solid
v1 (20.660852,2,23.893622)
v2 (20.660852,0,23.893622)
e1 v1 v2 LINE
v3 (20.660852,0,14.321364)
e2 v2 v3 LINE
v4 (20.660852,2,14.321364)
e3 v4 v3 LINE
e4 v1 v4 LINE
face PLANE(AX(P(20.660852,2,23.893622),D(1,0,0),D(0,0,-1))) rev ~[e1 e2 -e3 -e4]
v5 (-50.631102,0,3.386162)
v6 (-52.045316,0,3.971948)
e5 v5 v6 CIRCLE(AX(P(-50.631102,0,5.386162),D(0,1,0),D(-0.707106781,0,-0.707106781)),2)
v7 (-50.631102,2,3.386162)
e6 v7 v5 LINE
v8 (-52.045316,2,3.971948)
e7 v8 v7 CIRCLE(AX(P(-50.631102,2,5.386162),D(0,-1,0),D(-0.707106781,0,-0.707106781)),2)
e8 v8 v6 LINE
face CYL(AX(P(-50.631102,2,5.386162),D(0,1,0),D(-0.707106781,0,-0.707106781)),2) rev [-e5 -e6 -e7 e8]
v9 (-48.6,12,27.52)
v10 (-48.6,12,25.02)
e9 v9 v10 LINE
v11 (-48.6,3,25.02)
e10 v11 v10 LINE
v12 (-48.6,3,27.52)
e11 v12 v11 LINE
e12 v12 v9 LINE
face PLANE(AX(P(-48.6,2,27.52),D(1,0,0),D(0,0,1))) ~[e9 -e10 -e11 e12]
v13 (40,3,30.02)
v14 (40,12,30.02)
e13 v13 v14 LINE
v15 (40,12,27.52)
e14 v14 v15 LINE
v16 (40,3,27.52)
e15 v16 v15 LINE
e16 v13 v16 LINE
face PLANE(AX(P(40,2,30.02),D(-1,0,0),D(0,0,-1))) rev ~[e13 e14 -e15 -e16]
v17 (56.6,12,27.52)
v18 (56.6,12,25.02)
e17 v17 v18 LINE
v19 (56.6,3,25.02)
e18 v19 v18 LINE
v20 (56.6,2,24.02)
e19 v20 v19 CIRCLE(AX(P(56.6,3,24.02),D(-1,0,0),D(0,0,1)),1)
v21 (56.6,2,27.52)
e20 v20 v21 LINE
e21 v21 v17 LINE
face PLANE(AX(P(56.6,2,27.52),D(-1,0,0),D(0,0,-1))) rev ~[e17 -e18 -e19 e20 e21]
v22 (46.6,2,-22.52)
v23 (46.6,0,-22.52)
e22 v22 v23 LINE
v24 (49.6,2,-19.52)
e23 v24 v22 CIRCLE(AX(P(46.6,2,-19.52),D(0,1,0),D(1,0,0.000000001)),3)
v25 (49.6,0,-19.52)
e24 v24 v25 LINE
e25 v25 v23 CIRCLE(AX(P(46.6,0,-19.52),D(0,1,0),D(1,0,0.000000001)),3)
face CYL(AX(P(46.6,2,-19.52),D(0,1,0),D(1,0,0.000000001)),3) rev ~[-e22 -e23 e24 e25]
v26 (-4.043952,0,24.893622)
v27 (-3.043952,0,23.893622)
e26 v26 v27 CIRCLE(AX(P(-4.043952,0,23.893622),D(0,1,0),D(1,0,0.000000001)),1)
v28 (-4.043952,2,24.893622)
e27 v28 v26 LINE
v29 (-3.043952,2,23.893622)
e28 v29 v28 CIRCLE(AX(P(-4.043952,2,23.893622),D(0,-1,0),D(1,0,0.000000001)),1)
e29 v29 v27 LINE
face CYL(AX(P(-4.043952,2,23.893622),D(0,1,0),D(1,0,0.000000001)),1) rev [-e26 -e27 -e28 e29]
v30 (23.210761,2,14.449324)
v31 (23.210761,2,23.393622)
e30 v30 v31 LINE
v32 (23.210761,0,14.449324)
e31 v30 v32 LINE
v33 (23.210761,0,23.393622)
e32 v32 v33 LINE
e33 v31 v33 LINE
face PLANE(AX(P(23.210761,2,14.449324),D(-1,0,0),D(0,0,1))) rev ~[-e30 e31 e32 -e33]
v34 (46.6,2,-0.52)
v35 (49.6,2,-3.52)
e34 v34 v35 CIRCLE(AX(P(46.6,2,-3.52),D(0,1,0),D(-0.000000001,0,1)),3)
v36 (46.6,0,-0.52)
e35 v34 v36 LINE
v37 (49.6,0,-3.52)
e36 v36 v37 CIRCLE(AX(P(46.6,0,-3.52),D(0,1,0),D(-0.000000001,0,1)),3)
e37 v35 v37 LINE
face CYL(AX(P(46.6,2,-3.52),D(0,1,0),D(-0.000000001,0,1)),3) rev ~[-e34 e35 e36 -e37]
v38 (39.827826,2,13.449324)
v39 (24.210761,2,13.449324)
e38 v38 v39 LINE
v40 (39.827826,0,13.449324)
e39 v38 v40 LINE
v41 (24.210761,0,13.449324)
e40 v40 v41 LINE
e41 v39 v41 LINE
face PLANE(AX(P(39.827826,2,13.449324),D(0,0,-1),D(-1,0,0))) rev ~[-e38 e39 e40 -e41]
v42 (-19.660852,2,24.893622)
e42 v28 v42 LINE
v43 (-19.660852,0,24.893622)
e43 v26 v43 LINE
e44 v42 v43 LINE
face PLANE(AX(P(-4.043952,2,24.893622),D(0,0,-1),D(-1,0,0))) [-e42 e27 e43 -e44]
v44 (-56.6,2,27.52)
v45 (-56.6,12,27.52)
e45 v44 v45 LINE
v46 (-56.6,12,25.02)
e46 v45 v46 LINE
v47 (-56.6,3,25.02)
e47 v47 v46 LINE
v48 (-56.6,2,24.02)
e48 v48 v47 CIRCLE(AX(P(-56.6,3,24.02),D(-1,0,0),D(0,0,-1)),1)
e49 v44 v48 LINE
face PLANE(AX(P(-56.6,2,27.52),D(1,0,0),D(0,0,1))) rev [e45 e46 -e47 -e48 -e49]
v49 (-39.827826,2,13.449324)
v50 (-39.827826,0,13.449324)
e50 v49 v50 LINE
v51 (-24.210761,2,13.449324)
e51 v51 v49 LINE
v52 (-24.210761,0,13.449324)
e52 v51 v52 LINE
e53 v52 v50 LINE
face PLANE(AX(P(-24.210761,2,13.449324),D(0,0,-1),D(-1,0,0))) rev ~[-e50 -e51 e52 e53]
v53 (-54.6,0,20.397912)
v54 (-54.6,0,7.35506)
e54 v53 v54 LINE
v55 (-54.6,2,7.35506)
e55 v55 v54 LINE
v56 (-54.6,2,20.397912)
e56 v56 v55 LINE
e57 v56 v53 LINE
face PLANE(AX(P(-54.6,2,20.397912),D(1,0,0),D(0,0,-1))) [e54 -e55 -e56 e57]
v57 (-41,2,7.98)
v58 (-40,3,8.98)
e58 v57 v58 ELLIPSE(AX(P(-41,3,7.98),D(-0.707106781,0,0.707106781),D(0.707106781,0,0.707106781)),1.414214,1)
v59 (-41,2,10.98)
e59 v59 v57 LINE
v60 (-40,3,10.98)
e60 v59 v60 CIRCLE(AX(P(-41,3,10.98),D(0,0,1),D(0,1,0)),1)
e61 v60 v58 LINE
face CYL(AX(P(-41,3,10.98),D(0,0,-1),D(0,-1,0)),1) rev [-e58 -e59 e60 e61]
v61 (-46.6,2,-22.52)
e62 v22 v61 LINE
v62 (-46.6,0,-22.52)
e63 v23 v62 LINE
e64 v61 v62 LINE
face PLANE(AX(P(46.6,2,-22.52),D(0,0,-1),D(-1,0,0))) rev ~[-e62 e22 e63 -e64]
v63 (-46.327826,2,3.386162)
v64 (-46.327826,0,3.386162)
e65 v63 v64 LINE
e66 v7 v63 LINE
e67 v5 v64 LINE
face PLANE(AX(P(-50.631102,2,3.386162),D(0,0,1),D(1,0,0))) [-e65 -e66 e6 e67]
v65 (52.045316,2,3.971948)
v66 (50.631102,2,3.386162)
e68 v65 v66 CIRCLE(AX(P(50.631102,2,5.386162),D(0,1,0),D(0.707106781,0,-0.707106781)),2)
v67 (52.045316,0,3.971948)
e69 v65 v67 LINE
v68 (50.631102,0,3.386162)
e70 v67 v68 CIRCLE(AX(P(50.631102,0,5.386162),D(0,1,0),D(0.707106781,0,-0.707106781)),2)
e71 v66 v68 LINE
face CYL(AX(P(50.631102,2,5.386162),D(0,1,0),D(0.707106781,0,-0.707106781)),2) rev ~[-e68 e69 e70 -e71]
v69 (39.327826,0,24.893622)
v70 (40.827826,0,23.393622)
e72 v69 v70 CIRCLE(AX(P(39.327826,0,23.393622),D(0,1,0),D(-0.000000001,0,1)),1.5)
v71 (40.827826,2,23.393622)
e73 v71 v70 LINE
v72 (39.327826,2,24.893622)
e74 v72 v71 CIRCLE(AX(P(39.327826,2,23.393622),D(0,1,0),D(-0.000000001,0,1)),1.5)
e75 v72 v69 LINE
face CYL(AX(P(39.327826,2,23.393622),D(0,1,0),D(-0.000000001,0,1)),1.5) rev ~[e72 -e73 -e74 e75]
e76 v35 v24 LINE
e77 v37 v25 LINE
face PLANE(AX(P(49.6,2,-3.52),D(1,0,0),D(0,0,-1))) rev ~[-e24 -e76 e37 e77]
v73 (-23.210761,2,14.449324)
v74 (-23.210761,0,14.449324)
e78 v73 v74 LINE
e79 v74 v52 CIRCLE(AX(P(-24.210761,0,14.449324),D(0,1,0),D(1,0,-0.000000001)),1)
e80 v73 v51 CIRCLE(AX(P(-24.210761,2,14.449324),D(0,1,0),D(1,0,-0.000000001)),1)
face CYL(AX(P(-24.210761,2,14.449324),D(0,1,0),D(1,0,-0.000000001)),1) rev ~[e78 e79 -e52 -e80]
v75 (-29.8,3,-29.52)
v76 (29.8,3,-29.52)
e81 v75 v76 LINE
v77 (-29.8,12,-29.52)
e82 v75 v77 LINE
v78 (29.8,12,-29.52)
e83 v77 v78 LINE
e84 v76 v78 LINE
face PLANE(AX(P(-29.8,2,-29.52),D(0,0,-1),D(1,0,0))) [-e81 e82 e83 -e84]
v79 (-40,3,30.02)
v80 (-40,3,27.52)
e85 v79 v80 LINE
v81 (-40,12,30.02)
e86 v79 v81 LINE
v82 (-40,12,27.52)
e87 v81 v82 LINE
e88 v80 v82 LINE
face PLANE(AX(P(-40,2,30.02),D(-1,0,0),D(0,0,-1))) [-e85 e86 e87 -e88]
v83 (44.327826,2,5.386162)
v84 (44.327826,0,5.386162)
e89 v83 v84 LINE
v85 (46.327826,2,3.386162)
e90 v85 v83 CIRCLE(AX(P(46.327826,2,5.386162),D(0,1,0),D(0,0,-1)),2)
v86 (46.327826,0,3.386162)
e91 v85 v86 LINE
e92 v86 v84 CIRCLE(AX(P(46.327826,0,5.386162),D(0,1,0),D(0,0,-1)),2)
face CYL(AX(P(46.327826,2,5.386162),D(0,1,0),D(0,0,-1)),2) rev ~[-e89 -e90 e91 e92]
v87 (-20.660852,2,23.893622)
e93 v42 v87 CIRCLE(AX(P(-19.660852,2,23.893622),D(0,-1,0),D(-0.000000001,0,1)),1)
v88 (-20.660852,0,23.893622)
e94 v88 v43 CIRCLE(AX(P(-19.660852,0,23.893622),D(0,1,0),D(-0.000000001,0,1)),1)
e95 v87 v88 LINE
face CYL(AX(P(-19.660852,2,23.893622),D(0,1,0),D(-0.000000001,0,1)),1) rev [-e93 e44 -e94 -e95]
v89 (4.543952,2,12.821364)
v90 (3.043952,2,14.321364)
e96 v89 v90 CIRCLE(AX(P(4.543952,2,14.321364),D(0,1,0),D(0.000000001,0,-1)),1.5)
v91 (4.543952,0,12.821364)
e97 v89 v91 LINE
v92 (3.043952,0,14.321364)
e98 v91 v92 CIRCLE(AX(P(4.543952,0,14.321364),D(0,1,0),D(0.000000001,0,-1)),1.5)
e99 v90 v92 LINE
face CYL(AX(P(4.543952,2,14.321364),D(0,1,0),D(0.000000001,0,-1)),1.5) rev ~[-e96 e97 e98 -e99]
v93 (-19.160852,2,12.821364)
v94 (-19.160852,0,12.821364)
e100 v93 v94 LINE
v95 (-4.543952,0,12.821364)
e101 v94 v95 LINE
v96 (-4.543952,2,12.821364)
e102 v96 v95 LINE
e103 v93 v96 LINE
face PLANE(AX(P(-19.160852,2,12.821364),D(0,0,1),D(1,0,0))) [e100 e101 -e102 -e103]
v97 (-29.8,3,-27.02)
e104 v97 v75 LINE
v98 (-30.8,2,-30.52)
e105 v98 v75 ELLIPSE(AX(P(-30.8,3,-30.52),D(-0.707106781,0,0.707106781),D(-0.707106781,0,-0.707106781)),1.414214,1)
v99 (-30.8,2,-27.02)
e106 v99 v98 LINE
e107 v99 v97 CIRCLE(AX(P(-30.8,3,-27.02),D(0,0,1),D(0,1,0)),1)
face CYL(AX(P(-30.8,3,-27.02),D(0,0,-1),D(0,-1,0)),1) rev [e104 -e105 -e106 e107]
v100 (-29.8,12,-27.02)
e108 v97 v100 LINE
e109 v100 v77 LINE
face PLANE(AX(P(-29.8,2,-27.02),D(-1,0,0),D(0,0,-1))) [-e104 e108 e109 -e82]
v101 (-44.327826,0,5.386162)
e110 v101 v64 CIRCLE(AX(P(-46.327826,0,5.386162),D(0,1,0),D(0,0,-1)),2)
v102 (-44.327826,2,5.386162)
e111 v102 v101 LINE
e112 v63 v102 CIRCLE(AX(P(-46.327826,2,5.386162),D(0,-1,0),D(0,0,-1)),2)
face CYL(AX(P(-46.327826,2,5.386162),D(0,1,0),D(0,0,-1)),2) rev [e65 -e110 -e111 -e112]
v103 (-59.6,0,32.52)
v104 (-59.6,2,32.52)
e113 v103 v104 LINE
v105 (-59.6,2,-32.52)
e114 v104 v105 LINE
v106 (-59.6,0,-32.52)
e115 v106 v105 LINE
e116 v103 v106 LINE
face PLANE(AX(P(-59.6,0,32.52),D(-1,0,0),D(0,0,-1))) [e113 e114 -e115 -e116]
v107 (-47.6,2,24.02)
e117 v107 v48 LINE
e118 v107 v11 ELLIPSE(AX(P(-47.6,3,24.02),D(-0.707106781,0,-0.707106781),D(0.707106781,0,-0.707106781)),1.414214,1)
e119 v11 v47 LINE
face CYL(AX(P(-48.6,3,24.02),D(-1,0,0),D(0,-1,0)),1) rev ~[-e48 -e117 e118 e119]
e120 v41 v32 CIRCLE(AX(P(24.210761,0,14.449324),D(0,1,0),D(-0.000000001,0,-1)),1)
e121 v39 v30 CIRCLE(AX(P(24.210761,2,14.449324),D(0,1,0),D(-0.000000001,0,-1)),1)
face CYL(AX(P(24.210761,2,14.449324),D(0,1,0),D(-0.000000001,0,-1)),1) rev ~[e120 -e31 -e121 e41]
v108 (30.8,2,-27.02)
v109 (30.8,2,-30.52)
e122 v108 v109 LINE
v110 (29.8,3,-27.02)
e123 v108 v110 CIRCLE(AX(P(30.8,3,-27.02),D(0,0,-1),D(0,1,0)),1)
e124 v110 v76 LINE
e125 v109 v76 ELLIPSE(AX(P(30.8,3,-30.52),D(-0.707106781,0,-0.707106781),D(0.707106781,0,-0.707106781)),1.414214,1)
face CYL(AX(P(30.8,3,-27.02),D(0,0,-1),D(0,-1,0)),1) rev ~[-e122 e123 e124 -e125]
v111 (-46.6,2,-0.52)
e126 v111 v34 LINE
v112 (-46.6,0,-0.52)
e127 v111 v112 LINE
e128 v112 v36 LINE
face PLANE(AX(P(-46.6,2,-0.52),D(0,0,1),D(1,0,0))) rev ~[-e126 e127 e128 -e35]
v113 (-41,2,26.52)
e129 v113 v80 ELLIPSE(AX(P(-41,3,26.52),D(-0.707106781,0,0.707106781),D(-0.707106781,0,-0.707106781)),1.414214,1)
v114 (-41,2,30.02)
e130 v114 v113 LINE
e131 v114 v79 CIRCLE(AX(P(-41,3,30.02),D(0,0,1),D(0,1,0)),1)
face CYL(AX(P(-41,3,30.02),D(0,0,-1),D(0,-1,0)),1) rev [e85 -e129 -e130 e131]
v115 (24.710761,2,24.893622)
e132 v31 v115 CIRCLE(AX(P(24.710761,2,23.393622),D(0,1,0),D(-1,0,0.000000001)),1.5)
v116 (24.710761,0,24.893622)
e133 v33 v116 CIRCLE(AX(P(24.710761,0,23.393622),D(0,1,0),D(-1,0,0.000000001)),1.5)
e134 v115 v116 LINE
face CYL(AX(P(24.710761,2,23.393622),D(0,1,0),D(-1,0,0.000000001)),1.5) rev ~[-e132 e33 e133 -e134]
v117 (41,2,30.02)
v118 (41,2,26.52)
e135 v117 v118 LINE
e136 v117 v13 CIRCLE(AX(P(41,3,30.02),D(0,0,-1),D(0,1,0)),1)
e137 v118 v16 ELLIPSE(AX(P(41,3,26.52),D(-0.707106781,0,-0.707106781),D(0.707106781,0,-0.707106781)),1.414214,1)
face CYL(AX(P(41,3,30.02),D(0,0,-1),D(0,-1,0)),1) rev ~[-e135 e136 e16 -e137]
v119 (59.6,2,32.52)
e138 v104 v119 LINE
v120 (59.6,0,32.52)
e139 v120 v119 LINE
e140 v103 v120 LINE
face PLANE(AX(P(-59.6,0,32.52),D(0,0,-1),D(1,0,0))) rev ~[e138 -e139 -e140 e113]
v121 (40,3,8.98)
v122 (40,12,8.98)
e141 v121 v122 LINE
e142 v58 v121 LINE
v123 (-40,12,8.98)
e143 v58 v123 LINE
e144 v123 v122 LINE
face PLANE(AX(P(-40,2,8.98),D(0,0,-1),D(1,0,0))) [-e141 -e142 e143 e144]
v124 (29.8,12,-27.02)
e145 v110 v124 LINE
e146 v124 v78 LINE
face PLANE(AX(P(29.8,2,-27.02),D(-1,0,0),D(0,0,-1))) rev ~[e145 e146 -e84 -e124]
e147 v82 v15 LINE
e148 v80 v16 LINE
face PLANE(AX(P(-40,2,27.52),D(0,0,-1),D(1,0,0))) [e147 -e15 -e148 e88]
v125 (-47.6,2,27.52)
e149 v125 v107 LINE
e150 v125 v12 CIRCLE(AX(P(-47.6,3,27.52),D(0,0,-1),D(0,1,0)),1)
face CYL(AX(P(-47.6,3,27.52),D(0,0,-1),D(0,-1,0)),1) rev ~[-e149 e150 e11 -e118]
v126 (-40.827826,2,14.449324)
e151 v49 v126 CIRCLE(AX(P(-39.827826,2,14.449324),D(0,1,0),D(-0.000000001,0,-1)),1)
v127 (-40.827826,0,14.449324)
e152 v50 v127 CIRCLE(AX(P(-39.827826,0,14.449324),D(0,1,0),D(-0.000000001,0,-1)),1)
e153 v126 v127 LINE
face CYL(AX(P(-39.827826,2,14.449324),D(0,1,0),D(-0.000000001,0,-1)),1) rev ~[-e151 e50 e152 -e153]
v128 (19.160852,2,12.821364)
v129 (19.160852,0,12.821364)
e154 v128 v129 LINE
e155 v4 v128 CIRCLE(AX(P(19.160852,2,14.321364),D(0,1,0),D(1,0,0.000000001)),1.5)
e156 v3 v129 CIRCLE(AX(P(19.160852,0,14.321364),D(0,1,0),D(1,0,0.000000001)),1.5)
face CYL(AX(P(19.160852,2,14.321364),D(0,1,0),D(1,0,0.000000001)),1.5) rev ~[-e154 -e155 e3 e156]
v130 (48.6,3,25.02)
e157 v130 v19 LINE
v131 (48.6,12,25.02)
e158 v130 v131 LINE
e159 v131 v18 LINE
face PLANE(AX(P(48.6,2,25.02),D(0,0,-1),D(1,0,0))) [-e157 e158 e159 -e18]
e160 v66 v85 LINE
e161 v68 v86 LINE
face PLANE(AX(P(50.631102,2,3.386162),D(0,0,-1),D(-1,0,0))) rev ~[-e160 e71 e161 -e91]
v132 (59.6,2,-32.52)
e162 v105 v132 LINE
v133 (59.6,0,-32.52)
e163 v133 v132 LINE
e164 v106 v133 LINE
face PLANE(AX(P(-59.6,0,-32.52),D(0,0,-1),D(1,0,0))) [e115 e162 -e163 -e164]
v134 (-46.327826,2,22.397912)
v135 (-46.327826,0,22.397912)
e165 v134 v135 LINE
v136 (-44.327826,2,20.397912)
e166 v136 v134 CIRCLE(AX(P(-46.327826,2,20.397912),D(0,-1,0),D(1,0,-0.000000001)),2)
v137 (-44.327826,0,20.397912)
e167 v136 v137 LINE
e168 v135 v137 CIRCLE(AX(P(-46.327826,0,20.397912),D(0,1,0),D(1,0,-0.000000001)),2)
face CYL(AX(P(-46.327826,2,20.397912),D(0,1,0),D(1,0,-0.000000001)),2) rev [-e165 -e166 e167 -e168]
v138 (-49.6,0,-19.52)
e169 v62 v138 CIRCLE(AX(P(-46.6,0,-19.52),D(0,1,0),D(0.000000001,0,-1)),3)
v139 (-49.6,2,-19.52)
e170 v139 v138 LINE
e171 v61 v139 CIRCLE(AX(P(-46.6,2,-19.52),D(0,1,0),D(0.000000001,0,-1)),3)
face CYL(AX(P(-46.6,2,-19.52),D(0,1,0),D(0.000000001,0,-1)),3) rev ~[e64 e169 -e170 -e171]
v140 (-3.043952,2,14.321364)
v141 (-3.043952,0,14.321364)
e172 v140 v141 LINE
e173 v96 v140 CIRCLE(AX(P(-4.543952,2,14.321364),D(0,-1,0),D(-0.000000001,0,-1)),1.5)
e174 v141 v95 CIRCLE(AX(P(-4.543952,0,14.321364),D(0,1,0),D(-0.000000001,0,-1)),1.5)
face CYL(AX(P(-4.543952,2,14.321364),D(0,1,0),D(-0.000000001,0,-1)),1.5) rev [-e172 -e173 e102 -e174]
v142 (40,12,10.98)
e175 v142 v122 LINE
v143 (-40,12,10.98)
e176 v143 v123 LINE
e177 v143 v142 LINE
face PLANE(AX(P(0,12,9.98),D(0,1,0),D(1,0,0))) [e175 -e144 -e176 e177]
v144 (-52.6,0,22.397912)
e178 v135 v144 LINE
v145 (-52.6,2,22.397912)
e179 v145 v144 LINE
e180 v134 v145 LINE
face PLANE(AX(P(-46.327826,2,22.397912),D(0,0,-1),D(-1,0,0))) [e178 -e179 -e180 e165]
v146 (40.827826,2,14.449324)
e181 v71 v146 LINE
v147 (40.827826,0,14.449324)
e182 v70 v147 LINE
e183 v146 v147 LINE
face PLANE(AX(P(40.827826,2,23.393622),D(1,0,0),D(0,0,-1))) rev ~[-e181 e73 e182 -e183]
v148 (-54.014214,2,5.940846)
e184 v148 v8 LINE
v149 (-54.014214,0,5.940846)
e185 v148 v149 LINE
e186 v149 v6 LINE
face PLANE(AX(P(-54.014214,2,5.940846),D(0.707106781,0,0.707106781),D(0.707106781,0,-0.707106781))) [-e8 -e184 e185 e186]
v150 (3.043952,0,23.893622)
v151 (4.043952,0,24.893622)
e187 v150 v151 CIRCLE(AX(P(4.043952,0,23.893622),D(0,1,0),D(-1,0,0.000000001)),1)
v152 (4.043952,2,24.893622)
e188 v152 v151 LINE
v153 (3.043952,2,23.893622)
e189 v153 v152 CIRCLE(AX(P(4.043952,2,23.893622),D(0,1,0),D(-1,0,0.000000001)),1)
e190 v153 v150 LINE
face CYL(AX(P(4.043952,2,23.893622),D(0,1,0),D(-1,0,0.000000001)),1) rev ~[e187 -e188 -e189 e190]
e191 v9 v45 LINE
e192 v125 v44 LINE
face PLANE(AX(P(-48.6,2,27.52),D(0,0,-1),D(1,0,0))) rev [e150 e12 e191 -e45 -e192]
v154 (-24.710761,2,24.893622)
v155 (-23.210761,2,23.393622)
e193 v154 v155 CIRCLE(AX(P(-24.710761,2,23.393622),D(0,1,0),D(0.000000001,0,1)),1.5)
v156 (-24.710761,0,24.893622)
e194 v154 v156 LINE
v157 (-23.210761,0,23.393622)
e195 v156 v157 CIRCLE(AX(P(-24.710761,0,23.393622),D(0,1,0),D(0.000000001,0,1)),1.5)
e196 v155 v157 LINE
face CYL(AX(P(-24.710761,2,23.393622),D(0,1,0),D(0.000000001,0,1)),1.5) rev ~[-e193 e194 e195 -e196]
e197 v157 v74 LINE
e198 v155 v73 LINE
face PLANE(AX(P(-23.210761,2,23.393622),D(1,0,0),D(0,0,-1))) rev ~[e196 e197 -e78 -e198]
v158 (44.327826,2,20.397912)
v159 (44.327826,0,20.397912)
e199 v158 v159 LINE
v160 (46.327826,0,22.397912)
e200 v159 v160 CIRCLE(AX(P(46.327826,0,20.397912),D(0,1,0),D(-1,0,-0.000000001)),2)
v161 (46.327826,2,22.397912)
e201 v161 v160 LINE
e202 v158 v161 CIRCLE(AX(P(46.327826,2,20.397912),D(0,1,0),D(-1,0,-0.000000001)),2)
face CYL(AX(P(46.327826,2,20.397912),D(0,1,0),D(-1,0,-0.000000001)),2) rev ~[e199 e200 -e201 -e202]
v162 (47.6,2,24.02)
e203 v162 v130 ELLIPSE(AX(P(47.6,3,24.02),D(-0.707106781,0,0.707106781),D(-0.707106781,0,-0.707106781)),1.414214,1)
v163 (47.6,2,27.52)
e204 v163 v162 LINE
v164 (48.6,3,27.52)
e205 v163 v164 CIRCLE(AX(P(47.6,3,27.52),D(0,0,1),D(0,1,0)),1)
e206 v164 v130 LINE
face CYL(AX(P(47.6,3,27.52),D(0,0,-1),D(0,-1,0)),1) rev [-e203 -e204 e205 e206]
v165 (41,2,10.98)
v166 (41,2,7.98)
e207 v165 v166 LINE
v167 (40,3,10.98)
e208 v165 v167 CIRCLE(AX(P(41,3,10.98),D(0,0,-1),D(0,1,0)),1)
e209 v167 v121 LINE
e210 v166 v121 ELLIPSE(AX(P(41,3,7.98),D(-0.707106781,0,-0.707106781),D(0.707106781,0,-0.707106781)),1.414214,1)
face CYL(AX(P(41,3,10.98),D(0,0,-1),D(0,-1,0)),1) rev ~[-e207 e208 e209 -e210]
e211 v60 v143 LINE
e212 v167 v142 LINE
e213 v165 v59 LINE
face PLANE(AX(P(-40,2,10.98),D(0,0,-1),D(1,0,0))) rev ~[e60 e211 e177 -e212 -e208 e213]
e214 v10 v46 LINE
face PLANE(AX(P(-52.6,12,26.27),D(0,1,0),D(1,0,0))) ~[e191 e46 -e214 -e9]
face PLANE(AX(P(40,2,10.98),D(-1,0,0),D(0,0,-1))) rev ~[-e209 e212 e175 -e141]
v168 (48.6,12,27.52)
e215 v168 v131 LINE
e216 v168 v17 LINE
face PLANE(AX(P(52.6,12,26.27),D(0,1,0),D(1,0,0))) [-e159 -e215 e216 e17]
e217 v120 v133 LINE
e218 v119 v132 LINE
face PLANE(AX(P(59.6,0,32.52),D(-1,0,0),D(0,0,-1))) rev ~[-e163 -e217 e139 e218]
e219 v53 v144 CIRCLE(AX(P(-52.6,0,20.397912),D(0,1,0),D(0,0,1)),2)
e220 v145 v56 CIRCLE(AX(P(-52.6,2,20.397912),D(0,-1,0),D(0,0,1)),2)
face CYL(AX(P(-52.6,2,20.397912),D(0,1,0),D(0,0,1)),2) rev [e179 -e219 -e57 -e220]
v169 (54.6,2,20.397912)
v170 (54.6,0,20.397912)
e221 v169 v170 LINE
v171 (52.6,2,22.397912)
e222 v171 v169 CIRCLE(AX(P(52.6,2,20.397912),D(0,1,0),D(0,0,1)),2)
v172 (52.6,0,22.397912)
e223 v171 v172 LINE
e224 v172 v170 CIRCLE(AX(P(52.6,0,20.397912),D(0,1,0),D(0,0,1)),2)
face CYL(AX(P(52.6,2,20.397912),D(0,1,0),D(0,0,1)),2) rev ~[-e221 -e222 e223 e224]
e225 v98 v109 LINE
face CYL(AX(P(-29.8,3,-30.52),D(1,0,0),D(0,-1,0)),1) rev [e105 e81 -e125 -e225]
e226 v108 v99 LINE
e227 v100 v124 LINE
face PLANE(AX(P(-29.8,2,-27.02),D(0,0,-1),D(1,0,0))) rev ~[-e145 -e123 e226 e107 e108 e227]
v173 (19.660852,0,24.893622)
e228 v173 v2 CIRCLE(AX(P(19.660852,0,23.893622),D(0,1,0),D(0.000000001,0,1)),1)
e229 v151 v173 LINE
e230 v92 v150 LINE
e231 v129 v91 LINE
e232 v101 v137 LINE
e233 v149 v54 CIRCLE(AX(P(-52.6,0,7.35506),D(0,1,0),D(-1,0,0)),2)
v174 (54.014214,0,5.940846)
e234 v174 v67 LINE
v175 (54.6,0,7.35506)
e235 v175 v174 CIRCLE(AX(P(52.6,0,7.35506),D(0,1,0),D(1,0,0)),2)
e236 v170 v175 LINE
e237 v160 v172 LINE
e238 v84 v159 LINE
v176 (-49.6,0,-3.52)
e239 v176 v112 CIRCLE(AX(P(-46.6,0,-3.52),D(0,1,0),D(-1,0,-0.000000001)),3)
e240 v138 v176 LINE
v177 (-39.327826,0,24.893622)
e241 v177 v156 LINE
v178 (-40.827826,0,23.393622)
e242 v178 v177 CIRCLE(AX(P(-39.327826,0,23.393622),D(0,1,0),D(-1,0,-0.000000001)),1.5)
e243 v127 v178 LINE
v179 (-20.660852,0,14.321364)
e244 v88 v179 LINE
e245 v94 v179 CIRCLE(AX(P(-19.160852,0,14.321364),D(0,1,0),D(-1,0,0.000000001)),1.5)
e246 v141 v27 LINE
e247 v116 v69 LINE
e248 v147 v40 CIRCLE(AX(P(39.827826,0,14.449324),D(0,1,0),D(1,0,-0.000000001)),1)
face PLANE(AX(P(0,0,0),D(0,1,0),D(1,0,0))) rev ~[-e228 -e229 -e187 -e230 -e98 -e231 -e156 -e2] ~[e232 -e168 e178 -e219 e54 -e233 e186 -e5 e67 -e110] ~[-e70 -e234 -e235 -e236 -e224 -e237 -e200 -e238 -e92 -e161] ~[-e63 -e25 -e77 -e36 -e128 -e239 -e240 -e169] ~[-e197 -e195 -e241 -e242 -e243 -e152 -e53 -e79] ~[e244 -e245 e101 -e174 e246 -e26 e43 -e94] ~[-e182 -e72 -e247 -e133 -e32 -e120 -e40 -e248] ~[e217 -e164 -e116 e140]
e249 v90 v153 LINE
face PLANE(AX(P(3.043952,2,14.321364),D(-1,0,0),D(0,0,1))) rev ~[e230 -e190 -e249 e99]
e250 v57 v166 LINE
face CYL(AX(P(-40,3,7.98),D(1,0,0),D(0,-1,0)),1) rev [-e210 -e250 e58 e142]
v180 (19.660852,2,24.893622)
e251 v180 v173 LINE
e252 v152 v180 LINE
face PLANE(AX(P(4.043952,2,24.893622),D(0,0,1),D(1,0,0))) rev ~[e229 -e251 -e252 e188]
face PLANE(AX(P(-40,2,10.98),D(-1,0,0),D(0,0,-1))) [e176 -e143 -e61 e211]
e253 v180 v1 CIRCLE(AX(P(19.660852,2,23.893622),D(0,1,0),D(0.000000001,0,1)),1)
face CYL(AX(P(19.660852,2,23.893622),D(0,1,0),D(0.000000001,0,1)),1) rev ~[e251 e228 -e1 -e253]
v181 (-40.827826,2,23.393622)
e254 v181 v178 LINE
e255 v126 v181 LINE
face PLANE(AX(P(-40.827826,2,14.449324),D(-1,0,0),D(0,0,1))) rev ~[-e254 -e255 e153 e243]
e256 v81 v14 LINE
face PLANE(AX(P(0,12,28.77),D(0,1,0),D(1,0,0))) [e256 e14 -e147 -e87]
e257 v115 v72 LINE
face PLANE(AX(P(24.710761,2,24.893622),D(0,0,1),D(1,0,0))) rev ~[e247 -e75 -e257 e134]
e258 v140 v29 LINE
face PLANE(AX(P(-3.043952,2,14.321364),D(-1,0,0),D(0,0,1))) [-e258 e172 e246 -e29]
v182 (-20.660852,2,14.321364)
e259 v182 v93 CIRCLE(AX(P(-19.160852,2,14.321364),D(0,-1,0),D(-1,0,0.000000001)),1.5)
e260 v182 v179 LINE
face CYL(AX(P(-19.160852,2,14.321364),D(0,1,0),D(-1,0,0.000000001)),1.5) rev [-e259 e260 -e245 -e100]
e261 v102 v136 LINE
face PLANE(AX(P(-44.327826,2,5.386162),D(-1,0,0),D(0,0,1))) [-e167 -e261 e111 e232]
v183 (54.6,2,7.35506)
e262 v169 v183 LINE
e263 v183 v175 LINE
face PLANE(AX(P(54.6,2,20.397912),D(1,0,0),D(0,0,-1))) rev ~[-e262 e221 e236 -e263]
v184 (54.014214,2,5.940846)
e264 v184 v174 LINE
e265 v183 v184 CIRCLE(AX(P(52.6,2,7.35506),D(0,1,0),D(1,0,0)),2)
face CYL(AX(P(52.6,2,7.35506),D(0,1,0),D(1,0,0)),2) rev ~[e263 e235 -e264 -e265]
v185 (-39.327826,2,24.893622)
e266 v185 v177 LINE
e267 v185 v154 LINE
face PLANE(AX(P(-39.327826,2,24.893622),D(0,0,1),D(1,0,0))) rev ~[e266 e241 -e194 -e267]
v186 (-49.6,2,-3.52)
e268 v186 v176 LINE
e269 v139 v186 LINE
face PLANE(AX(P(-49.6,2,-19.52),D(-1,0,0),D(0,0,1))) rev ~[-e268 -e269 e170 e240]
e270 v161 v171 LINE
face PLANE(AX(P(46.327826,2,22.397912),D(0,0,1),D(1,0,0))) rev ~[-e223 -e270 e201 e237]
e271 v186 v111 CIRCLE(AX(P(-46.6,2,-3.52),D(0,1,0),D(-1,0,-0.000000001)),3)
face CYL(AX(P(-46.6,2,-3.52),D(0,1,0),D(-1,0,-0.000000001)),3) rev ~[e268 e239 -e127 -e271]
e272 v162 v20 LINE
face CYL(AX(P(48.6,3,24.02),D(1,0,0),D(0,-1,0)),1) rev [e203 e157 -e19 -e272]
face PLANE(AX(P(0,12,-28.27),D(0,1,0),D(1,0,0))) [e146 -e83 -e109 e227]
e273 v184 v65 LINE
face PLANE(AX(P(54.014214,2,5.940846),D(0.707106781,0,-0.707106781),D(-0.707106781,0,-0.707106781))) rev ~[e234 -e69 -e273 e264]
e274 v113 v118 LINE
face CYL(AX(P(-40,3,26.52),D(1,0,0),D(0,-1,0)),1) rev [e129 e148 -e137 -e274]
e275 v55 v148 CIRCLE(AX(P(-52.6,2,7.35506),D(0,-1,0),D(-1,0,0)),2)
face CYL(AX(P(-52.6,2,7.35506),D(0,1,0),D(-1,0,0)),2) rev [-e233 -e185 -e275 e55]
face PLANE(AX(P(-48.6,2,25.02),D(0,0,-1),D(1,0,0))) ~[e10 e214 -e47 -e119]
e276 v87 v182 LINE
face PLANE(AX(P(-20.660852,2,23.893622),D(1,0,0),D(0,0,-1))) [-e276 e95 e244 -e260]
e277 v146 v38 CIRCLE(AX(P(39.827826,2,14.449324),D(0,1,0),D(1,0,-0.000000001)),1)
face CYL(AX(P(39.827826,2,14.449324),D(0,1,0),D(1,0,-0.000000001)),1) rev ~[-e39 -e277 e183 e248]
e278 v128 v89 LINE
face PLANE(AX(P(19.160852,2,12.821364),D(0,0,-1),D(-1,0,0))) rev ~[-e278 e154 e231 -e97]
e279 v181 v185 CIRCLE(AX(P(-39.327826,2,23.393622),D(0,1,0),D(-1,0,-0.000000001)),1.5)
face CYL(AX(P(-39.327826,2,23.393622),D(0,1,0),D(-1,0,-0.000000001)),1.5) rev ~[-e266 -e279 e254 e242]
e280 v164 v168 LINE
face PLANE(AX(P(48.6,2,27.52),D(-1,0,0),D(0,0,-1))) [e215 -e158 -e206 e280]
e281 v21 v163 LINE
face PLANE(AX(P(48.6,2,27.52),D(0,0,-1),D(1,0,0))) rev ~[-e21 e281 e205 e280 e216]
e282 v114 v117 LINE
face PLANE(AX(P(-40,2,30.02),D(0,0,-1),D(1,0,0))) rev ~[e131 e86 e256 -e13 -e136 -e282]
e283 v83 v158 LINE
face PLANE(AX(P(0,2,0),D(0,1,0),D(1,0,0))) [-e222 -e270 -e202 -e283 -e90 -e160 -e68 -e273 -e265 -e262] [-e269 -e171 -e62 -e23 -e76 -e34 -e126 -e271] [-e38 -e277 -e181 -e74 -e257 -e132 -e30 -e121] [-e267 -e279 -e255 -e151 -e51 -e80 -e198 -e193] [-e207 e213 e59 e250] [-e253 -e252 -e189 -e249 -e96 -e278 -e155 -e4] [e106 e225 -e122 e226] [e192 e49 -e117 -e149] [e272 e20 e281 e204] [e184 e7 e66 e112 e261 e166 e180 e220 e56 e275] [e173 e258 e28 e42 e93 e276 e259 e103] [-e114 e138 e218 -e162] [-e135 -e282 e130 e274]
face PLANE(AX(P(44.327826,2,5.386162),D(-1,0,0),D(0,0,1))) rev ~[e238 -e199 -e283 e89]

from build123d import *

# Parameters (mm, degrees)
SKETCH1_W           = 119.2
SKETCH1_H           = 65.04
BOSS_EXTRUDE1_DEPTH = 2
SKETCH2_W           = 59.6
SKETCH2_H           = 2.5
SKETCH2_W_2         = 80
SKETCH2_H_2         = 2
BOSS_EXTRUDE2_DEPTH = 10
FILLET1_R           = 1
SKETCH4_W           = 80
SKETCH4_H           = 2.5
SKETCH4_W_2         = 8
BOSS_EXTRUDE3_DEPTH = 10
FILLET2_R           = 1
FILLET3_R           = 1
CUT_EXTRUDE2_DEPTH  = 10
CUT_EXTRUDE3_DEPTH  = 10


with BuildPart() as part:
    # Sketch1 → Boss-Extrude1 (new body)
    with BuildSketch(Plane(origin=(0, 0, 0), x_dir=(1, 0, 0), z_dir=(0, 1, 0))):
        Rectangle(SKETCH1_W, SKETCH1_H)
    extrude(amount=BOSS_EXTRUDE1_DEPTH)

    # Sketch2 → Boss-Extrude2 (add)
    with BuildSketch(Plane(origin=(0, 2, 0), x_dir=(1, 0, 0), z_dir=(0, 1, 0))):
        with Locations((0, 28.27)):
            Rectangle(SKETCH2_W, SKETCH2_H)
        with Locations((0, -9.98)):
            Rectangle(SKETCH2_W_2, SKETCH2_H_2)
    extrude(amount=BOSS_EXTRUDE2_DEPTH)

    # Fillet1
    fillet1_edges = [part.edges().sort_by_distance(p)[0] for p in [
        (40, 2, 9.98),
        (0, 2, 8.98),
        (-40, 2, 9.98),
        (-29.8, 2, -28.27),
        (29.8, 2, -28.27),
        (0, 2, -29.52),
    ]]
    fillet(fillet1_edges, radius=FILLET1_R)

    # Sketch4 → Boss-Extrude3 (add)
    with BuildSketch(Plane(origin=(0, 2, 0), x_dir=(1, 0, 0), z_dir=(0, 1, 0))):
        with Locations((0, -28.77)):
            Rectangle(SKETCH4_W, SKETCH4_H)
        with Locations((52.6, -26.27)):
            Rectangle(SKETCH4_W_2, SKETCH4_H)
    boss_extrude3 = extrude(amount=BOSS_EXTRUDE3_DEPTH)

    # Fillet2
    fillet2_edges = [part.edges().sort_by_distance(p)[0] for p in [
        (-40, 2, 28.77),
        (48.6, 2, 26.27),
        (52.6, 2, 25.02),
        (40, 2, 28.77),
        (0, 2, 27.52),
    ]]
    fillet(fillet2_edges, radius=FILLET2_R)

    # Mirror1: Boss-Extrude3 across plane
    add(boss_extrude3.mirror(Plane.ZY))

    # Fillet3
    fillet3_edges = [part.edges().sort_by_distance(p)[0] for p in [
        (-48.6, 2, 26.27),
        (-52.6, 2, 25.02),
    ]]
    fillet(fillet3_edges, radius=FILLET3_R)

    # Sketch5 → Cut-Extrude2 (cut)
    with BuildSketch(Plane(origin=(0, 2, 0), x_dir=(1, 0, 0), z_dir=(0, 1, 0))):
        with BuildLine():
            Line((46.6, 22.52), (6.311514948, 22.52))
            Line((6.311514948, 22.52), (-46.6, 22.52))
            ThreePointArc((-46.6, 22.52), (-48.721320344, 21.641320344), (-49.6, 19.52))
            Line((-49.6, 19.52), (-49.6, 3.52))
            ThreePointArc((-49.6, 3.52), (-48.721320344, 1.398679656), (-46.6, 0.52))
            Line((-46.6, 0.52), (46.6, 0.52))
            ThreePointArc((46.6, 0.52), (48.721320344, 1.398679656), (49.6, 3.52))
            Line((49.6, 3.52), (49.6, 19.52))
            ThreePointArc((49.6, 19.52), (48.721320344, 21.641320344), (46.6, 22.52))
        make_face()
    extrude(amount=-CUT_EXTRUDE2_DEPTH, mode=Mode.SUBTRACT)

    # Sketch6 → Cut-Extrude3 (cut)
    with BuildSketch(Plane(origin=(0, 2, 0), x_dir=(1, 0, 0), z_dir=(0, 1, 0))):
        with BuildLine():
            Line((54.014213562, -5.94084617), (52.045315698, -3.971948306))
            ThreePointArc((52.045315698, -3.971948306), (51.396469, -3.538402803), (50.631102135, -3.386161868))
            Line((50.631102135, -3.386161868), (46.32782558, -3.386161868))
            ThreePointArc((46.32782558, -3.386161868), (44.913612017, -3.971948306), (44.32782558, -5.386161868))
            Line((44.32782558, -5.386161868), (44.32782558, -20.397912268))
            ThreePointArc((44.32782558, -20.397912268), (44.913612017, -21.812125831), (46.32782558, -22.397912268))
            Line((46.32782558, -22.397912268), (52.6, -22.397912268))
            ThreePointArc((52.6, -22.397912268), (54.014213562, -21.812125831), (54.6, -20.397912268))
            Line((54.6, -20.397912268), (54.6, -7.355059733))
            ThreePointArc((54.6, -7.355059733), (54.447759065, -6.589692868), (54.014213562, -5.94084617))
        make_face()
        with BuildLine():
            Line((39.82782558, -13.44932419), (24.210760832, -13.44932419))
            ThreePointArc((24.210760832, -13.44932419), (23.503654051, -13.742217409), (23.210760832, -14.44932419))
            Line((23.210760832, -14.44932419), (23.210760832, -23.393622011))
            ThreePointArc((23.210760832, -23.393622011), (23.650100661, -24.454282183), (24.710760832, -24.893622011))
            Line((24.710760832, -24.893622011), (39.32782558, -24.893622011))
            ThreePointArc((39.32782558, -24.893622011), (40.388485752, -24.454282183), (40.82782558, -23.393622011))
            Line((40.82782558, -23.393622011), (40.82782558, -14.44932419))
            ThreePointArc((40.82782558, -14.44932419), (40.534932361, -13.742217409), (39.82782558, -13.44932419))
        make_face()
        with BuildLine():
            Line((4.043952302, -24.893622011), (19.660852384, -24.893622011))
            ThreePointArc((19.660852384, -24.893622011), (20.367959165, -24.600728792), (20.660852384, -23.893622011))
            Line((20.660852384, -23.893622011), (20.660852384, -14.321364431))
            ThreePointArc((20.660852384, -14.321364431), (20.221512556, -13.260704259), (19.160852384, -12.821364431))
            Line((19.160852384, -12.821364431), (4.543952302, -12.821364431))
            ThreePointArc((4.543952302, -12.821364431), (3.48329213, -13.260704259), (3.043952302, -14.321364431))
            Line((3.043952302, -14.321364431), (3.043952302, -23.893622011))
            ThreePointArc((3.043952302, -23.893622011), (3.336845521, -24.600728792), (4.043952302, -24.893622011))
        make_face()
        with BuildLine():
            Line((-4.043952302, -24.893622011), (-19.660852384, -24.893622011))
            ThreePointArc((-19.660852384, -24.893622011), (-20.367959165, -24.600728792), (-20.660852384, -23.893622011))
            Line((-20.660852384, -23.893622011), (-20.660852384, -14.321364431))
            ThreePointArc((-20.660852384, -14.321364431), (-20.221512556, -13.260704259), (-19.160852384, -12.821364431))
            Line((-19.160852384, -12.821364431), (-4.543952302, -12.821364431))
            ThreePointArc((-4.543952302, -12.821364431), (-3.48329213, -13.260704259), (-3.043952302, -14.321364431))
            Line((-3.043952302, -14.321364431), (-3.043952302, -23.893622011))
            ThreePointArc((-3.043952302, -23.893622011), (-3.336845521, -24.600728792), (-4.043952302, -24.893622011))
        make_face()
        with BuildLine():
            Line((-39.32782558, -24.893622011), (-24.710760832, -24.893622011))
            ThreePointArc((-24.710760832, -24.893622011), (-23.650100661, -24.454282183), (-23.210760832, -23.393622011))
            Line((-23.210760832, -23.393622011), (-23.210760832, -14.44932419))
            ThreePointArc((-23.210760832, -14.44932419), (-23.503654051, -13.742217409), (-24.210760832, -13.44932419))
            Line((-24.210760832, -13.44932419), (-39.82782558, -13.44932419))
            ThreePointArc((-39.82782558, -13.44932419), (-40.534932361, -13.742217409), (-40.82782558, -14.44932419))
            Line((-40.82782558, -14.44932419), (-40.82782558, -23.393622011))
            ThreePointArc((-40.82782558, -23.393622011), (-40.388485752, -24.454282183), (-39.32782558, -24.893622011))
        make_face()
        with BuildLine():
            Line((-44.32782558, -5.386161868), (-44.32782558, -20.397912268))
            ThreePointArc((-44.32782558, -20.397912268), (-44.913612017, -21.812125831), (-46.32782558, -22.397912268))
            Line((-46.32782558, -22.397912268), (-52.6, -22.397912268))
            ThreePointArc((-52.6, -22.397912268), (-54.014213562, -21.812125831), (-54.6, -20.397912268))
            Line((-54.6, -20.397912268), (-54.6, -7.355059733))
            ThreePointArc((-54.6, -7.355059733), (-54.447759065, -6.589692868), (-54.014213562, -5.94084617))
            Line((-54.014213562, -5.94084617), (-52.045315698, -3.971948306))
            ThreePointArc((-52.045315698, -3.971948306), (-51.396469, -3.538402803), (-50.631102135, -3.386161868))
            Line((-50.631102135, -3.386161868), (-46.32782558, -3.386161868))
            ThreePointArc((-46.32782558, -3.386161868), (-44.913612017, -3.971948306), (-44.32782558, -5.386161868))
        make_face()
    extrude(amount=-CUT_EXTRUDE3_DEPTH, mode=Mode.SUBTRACT)


solid = part.part
